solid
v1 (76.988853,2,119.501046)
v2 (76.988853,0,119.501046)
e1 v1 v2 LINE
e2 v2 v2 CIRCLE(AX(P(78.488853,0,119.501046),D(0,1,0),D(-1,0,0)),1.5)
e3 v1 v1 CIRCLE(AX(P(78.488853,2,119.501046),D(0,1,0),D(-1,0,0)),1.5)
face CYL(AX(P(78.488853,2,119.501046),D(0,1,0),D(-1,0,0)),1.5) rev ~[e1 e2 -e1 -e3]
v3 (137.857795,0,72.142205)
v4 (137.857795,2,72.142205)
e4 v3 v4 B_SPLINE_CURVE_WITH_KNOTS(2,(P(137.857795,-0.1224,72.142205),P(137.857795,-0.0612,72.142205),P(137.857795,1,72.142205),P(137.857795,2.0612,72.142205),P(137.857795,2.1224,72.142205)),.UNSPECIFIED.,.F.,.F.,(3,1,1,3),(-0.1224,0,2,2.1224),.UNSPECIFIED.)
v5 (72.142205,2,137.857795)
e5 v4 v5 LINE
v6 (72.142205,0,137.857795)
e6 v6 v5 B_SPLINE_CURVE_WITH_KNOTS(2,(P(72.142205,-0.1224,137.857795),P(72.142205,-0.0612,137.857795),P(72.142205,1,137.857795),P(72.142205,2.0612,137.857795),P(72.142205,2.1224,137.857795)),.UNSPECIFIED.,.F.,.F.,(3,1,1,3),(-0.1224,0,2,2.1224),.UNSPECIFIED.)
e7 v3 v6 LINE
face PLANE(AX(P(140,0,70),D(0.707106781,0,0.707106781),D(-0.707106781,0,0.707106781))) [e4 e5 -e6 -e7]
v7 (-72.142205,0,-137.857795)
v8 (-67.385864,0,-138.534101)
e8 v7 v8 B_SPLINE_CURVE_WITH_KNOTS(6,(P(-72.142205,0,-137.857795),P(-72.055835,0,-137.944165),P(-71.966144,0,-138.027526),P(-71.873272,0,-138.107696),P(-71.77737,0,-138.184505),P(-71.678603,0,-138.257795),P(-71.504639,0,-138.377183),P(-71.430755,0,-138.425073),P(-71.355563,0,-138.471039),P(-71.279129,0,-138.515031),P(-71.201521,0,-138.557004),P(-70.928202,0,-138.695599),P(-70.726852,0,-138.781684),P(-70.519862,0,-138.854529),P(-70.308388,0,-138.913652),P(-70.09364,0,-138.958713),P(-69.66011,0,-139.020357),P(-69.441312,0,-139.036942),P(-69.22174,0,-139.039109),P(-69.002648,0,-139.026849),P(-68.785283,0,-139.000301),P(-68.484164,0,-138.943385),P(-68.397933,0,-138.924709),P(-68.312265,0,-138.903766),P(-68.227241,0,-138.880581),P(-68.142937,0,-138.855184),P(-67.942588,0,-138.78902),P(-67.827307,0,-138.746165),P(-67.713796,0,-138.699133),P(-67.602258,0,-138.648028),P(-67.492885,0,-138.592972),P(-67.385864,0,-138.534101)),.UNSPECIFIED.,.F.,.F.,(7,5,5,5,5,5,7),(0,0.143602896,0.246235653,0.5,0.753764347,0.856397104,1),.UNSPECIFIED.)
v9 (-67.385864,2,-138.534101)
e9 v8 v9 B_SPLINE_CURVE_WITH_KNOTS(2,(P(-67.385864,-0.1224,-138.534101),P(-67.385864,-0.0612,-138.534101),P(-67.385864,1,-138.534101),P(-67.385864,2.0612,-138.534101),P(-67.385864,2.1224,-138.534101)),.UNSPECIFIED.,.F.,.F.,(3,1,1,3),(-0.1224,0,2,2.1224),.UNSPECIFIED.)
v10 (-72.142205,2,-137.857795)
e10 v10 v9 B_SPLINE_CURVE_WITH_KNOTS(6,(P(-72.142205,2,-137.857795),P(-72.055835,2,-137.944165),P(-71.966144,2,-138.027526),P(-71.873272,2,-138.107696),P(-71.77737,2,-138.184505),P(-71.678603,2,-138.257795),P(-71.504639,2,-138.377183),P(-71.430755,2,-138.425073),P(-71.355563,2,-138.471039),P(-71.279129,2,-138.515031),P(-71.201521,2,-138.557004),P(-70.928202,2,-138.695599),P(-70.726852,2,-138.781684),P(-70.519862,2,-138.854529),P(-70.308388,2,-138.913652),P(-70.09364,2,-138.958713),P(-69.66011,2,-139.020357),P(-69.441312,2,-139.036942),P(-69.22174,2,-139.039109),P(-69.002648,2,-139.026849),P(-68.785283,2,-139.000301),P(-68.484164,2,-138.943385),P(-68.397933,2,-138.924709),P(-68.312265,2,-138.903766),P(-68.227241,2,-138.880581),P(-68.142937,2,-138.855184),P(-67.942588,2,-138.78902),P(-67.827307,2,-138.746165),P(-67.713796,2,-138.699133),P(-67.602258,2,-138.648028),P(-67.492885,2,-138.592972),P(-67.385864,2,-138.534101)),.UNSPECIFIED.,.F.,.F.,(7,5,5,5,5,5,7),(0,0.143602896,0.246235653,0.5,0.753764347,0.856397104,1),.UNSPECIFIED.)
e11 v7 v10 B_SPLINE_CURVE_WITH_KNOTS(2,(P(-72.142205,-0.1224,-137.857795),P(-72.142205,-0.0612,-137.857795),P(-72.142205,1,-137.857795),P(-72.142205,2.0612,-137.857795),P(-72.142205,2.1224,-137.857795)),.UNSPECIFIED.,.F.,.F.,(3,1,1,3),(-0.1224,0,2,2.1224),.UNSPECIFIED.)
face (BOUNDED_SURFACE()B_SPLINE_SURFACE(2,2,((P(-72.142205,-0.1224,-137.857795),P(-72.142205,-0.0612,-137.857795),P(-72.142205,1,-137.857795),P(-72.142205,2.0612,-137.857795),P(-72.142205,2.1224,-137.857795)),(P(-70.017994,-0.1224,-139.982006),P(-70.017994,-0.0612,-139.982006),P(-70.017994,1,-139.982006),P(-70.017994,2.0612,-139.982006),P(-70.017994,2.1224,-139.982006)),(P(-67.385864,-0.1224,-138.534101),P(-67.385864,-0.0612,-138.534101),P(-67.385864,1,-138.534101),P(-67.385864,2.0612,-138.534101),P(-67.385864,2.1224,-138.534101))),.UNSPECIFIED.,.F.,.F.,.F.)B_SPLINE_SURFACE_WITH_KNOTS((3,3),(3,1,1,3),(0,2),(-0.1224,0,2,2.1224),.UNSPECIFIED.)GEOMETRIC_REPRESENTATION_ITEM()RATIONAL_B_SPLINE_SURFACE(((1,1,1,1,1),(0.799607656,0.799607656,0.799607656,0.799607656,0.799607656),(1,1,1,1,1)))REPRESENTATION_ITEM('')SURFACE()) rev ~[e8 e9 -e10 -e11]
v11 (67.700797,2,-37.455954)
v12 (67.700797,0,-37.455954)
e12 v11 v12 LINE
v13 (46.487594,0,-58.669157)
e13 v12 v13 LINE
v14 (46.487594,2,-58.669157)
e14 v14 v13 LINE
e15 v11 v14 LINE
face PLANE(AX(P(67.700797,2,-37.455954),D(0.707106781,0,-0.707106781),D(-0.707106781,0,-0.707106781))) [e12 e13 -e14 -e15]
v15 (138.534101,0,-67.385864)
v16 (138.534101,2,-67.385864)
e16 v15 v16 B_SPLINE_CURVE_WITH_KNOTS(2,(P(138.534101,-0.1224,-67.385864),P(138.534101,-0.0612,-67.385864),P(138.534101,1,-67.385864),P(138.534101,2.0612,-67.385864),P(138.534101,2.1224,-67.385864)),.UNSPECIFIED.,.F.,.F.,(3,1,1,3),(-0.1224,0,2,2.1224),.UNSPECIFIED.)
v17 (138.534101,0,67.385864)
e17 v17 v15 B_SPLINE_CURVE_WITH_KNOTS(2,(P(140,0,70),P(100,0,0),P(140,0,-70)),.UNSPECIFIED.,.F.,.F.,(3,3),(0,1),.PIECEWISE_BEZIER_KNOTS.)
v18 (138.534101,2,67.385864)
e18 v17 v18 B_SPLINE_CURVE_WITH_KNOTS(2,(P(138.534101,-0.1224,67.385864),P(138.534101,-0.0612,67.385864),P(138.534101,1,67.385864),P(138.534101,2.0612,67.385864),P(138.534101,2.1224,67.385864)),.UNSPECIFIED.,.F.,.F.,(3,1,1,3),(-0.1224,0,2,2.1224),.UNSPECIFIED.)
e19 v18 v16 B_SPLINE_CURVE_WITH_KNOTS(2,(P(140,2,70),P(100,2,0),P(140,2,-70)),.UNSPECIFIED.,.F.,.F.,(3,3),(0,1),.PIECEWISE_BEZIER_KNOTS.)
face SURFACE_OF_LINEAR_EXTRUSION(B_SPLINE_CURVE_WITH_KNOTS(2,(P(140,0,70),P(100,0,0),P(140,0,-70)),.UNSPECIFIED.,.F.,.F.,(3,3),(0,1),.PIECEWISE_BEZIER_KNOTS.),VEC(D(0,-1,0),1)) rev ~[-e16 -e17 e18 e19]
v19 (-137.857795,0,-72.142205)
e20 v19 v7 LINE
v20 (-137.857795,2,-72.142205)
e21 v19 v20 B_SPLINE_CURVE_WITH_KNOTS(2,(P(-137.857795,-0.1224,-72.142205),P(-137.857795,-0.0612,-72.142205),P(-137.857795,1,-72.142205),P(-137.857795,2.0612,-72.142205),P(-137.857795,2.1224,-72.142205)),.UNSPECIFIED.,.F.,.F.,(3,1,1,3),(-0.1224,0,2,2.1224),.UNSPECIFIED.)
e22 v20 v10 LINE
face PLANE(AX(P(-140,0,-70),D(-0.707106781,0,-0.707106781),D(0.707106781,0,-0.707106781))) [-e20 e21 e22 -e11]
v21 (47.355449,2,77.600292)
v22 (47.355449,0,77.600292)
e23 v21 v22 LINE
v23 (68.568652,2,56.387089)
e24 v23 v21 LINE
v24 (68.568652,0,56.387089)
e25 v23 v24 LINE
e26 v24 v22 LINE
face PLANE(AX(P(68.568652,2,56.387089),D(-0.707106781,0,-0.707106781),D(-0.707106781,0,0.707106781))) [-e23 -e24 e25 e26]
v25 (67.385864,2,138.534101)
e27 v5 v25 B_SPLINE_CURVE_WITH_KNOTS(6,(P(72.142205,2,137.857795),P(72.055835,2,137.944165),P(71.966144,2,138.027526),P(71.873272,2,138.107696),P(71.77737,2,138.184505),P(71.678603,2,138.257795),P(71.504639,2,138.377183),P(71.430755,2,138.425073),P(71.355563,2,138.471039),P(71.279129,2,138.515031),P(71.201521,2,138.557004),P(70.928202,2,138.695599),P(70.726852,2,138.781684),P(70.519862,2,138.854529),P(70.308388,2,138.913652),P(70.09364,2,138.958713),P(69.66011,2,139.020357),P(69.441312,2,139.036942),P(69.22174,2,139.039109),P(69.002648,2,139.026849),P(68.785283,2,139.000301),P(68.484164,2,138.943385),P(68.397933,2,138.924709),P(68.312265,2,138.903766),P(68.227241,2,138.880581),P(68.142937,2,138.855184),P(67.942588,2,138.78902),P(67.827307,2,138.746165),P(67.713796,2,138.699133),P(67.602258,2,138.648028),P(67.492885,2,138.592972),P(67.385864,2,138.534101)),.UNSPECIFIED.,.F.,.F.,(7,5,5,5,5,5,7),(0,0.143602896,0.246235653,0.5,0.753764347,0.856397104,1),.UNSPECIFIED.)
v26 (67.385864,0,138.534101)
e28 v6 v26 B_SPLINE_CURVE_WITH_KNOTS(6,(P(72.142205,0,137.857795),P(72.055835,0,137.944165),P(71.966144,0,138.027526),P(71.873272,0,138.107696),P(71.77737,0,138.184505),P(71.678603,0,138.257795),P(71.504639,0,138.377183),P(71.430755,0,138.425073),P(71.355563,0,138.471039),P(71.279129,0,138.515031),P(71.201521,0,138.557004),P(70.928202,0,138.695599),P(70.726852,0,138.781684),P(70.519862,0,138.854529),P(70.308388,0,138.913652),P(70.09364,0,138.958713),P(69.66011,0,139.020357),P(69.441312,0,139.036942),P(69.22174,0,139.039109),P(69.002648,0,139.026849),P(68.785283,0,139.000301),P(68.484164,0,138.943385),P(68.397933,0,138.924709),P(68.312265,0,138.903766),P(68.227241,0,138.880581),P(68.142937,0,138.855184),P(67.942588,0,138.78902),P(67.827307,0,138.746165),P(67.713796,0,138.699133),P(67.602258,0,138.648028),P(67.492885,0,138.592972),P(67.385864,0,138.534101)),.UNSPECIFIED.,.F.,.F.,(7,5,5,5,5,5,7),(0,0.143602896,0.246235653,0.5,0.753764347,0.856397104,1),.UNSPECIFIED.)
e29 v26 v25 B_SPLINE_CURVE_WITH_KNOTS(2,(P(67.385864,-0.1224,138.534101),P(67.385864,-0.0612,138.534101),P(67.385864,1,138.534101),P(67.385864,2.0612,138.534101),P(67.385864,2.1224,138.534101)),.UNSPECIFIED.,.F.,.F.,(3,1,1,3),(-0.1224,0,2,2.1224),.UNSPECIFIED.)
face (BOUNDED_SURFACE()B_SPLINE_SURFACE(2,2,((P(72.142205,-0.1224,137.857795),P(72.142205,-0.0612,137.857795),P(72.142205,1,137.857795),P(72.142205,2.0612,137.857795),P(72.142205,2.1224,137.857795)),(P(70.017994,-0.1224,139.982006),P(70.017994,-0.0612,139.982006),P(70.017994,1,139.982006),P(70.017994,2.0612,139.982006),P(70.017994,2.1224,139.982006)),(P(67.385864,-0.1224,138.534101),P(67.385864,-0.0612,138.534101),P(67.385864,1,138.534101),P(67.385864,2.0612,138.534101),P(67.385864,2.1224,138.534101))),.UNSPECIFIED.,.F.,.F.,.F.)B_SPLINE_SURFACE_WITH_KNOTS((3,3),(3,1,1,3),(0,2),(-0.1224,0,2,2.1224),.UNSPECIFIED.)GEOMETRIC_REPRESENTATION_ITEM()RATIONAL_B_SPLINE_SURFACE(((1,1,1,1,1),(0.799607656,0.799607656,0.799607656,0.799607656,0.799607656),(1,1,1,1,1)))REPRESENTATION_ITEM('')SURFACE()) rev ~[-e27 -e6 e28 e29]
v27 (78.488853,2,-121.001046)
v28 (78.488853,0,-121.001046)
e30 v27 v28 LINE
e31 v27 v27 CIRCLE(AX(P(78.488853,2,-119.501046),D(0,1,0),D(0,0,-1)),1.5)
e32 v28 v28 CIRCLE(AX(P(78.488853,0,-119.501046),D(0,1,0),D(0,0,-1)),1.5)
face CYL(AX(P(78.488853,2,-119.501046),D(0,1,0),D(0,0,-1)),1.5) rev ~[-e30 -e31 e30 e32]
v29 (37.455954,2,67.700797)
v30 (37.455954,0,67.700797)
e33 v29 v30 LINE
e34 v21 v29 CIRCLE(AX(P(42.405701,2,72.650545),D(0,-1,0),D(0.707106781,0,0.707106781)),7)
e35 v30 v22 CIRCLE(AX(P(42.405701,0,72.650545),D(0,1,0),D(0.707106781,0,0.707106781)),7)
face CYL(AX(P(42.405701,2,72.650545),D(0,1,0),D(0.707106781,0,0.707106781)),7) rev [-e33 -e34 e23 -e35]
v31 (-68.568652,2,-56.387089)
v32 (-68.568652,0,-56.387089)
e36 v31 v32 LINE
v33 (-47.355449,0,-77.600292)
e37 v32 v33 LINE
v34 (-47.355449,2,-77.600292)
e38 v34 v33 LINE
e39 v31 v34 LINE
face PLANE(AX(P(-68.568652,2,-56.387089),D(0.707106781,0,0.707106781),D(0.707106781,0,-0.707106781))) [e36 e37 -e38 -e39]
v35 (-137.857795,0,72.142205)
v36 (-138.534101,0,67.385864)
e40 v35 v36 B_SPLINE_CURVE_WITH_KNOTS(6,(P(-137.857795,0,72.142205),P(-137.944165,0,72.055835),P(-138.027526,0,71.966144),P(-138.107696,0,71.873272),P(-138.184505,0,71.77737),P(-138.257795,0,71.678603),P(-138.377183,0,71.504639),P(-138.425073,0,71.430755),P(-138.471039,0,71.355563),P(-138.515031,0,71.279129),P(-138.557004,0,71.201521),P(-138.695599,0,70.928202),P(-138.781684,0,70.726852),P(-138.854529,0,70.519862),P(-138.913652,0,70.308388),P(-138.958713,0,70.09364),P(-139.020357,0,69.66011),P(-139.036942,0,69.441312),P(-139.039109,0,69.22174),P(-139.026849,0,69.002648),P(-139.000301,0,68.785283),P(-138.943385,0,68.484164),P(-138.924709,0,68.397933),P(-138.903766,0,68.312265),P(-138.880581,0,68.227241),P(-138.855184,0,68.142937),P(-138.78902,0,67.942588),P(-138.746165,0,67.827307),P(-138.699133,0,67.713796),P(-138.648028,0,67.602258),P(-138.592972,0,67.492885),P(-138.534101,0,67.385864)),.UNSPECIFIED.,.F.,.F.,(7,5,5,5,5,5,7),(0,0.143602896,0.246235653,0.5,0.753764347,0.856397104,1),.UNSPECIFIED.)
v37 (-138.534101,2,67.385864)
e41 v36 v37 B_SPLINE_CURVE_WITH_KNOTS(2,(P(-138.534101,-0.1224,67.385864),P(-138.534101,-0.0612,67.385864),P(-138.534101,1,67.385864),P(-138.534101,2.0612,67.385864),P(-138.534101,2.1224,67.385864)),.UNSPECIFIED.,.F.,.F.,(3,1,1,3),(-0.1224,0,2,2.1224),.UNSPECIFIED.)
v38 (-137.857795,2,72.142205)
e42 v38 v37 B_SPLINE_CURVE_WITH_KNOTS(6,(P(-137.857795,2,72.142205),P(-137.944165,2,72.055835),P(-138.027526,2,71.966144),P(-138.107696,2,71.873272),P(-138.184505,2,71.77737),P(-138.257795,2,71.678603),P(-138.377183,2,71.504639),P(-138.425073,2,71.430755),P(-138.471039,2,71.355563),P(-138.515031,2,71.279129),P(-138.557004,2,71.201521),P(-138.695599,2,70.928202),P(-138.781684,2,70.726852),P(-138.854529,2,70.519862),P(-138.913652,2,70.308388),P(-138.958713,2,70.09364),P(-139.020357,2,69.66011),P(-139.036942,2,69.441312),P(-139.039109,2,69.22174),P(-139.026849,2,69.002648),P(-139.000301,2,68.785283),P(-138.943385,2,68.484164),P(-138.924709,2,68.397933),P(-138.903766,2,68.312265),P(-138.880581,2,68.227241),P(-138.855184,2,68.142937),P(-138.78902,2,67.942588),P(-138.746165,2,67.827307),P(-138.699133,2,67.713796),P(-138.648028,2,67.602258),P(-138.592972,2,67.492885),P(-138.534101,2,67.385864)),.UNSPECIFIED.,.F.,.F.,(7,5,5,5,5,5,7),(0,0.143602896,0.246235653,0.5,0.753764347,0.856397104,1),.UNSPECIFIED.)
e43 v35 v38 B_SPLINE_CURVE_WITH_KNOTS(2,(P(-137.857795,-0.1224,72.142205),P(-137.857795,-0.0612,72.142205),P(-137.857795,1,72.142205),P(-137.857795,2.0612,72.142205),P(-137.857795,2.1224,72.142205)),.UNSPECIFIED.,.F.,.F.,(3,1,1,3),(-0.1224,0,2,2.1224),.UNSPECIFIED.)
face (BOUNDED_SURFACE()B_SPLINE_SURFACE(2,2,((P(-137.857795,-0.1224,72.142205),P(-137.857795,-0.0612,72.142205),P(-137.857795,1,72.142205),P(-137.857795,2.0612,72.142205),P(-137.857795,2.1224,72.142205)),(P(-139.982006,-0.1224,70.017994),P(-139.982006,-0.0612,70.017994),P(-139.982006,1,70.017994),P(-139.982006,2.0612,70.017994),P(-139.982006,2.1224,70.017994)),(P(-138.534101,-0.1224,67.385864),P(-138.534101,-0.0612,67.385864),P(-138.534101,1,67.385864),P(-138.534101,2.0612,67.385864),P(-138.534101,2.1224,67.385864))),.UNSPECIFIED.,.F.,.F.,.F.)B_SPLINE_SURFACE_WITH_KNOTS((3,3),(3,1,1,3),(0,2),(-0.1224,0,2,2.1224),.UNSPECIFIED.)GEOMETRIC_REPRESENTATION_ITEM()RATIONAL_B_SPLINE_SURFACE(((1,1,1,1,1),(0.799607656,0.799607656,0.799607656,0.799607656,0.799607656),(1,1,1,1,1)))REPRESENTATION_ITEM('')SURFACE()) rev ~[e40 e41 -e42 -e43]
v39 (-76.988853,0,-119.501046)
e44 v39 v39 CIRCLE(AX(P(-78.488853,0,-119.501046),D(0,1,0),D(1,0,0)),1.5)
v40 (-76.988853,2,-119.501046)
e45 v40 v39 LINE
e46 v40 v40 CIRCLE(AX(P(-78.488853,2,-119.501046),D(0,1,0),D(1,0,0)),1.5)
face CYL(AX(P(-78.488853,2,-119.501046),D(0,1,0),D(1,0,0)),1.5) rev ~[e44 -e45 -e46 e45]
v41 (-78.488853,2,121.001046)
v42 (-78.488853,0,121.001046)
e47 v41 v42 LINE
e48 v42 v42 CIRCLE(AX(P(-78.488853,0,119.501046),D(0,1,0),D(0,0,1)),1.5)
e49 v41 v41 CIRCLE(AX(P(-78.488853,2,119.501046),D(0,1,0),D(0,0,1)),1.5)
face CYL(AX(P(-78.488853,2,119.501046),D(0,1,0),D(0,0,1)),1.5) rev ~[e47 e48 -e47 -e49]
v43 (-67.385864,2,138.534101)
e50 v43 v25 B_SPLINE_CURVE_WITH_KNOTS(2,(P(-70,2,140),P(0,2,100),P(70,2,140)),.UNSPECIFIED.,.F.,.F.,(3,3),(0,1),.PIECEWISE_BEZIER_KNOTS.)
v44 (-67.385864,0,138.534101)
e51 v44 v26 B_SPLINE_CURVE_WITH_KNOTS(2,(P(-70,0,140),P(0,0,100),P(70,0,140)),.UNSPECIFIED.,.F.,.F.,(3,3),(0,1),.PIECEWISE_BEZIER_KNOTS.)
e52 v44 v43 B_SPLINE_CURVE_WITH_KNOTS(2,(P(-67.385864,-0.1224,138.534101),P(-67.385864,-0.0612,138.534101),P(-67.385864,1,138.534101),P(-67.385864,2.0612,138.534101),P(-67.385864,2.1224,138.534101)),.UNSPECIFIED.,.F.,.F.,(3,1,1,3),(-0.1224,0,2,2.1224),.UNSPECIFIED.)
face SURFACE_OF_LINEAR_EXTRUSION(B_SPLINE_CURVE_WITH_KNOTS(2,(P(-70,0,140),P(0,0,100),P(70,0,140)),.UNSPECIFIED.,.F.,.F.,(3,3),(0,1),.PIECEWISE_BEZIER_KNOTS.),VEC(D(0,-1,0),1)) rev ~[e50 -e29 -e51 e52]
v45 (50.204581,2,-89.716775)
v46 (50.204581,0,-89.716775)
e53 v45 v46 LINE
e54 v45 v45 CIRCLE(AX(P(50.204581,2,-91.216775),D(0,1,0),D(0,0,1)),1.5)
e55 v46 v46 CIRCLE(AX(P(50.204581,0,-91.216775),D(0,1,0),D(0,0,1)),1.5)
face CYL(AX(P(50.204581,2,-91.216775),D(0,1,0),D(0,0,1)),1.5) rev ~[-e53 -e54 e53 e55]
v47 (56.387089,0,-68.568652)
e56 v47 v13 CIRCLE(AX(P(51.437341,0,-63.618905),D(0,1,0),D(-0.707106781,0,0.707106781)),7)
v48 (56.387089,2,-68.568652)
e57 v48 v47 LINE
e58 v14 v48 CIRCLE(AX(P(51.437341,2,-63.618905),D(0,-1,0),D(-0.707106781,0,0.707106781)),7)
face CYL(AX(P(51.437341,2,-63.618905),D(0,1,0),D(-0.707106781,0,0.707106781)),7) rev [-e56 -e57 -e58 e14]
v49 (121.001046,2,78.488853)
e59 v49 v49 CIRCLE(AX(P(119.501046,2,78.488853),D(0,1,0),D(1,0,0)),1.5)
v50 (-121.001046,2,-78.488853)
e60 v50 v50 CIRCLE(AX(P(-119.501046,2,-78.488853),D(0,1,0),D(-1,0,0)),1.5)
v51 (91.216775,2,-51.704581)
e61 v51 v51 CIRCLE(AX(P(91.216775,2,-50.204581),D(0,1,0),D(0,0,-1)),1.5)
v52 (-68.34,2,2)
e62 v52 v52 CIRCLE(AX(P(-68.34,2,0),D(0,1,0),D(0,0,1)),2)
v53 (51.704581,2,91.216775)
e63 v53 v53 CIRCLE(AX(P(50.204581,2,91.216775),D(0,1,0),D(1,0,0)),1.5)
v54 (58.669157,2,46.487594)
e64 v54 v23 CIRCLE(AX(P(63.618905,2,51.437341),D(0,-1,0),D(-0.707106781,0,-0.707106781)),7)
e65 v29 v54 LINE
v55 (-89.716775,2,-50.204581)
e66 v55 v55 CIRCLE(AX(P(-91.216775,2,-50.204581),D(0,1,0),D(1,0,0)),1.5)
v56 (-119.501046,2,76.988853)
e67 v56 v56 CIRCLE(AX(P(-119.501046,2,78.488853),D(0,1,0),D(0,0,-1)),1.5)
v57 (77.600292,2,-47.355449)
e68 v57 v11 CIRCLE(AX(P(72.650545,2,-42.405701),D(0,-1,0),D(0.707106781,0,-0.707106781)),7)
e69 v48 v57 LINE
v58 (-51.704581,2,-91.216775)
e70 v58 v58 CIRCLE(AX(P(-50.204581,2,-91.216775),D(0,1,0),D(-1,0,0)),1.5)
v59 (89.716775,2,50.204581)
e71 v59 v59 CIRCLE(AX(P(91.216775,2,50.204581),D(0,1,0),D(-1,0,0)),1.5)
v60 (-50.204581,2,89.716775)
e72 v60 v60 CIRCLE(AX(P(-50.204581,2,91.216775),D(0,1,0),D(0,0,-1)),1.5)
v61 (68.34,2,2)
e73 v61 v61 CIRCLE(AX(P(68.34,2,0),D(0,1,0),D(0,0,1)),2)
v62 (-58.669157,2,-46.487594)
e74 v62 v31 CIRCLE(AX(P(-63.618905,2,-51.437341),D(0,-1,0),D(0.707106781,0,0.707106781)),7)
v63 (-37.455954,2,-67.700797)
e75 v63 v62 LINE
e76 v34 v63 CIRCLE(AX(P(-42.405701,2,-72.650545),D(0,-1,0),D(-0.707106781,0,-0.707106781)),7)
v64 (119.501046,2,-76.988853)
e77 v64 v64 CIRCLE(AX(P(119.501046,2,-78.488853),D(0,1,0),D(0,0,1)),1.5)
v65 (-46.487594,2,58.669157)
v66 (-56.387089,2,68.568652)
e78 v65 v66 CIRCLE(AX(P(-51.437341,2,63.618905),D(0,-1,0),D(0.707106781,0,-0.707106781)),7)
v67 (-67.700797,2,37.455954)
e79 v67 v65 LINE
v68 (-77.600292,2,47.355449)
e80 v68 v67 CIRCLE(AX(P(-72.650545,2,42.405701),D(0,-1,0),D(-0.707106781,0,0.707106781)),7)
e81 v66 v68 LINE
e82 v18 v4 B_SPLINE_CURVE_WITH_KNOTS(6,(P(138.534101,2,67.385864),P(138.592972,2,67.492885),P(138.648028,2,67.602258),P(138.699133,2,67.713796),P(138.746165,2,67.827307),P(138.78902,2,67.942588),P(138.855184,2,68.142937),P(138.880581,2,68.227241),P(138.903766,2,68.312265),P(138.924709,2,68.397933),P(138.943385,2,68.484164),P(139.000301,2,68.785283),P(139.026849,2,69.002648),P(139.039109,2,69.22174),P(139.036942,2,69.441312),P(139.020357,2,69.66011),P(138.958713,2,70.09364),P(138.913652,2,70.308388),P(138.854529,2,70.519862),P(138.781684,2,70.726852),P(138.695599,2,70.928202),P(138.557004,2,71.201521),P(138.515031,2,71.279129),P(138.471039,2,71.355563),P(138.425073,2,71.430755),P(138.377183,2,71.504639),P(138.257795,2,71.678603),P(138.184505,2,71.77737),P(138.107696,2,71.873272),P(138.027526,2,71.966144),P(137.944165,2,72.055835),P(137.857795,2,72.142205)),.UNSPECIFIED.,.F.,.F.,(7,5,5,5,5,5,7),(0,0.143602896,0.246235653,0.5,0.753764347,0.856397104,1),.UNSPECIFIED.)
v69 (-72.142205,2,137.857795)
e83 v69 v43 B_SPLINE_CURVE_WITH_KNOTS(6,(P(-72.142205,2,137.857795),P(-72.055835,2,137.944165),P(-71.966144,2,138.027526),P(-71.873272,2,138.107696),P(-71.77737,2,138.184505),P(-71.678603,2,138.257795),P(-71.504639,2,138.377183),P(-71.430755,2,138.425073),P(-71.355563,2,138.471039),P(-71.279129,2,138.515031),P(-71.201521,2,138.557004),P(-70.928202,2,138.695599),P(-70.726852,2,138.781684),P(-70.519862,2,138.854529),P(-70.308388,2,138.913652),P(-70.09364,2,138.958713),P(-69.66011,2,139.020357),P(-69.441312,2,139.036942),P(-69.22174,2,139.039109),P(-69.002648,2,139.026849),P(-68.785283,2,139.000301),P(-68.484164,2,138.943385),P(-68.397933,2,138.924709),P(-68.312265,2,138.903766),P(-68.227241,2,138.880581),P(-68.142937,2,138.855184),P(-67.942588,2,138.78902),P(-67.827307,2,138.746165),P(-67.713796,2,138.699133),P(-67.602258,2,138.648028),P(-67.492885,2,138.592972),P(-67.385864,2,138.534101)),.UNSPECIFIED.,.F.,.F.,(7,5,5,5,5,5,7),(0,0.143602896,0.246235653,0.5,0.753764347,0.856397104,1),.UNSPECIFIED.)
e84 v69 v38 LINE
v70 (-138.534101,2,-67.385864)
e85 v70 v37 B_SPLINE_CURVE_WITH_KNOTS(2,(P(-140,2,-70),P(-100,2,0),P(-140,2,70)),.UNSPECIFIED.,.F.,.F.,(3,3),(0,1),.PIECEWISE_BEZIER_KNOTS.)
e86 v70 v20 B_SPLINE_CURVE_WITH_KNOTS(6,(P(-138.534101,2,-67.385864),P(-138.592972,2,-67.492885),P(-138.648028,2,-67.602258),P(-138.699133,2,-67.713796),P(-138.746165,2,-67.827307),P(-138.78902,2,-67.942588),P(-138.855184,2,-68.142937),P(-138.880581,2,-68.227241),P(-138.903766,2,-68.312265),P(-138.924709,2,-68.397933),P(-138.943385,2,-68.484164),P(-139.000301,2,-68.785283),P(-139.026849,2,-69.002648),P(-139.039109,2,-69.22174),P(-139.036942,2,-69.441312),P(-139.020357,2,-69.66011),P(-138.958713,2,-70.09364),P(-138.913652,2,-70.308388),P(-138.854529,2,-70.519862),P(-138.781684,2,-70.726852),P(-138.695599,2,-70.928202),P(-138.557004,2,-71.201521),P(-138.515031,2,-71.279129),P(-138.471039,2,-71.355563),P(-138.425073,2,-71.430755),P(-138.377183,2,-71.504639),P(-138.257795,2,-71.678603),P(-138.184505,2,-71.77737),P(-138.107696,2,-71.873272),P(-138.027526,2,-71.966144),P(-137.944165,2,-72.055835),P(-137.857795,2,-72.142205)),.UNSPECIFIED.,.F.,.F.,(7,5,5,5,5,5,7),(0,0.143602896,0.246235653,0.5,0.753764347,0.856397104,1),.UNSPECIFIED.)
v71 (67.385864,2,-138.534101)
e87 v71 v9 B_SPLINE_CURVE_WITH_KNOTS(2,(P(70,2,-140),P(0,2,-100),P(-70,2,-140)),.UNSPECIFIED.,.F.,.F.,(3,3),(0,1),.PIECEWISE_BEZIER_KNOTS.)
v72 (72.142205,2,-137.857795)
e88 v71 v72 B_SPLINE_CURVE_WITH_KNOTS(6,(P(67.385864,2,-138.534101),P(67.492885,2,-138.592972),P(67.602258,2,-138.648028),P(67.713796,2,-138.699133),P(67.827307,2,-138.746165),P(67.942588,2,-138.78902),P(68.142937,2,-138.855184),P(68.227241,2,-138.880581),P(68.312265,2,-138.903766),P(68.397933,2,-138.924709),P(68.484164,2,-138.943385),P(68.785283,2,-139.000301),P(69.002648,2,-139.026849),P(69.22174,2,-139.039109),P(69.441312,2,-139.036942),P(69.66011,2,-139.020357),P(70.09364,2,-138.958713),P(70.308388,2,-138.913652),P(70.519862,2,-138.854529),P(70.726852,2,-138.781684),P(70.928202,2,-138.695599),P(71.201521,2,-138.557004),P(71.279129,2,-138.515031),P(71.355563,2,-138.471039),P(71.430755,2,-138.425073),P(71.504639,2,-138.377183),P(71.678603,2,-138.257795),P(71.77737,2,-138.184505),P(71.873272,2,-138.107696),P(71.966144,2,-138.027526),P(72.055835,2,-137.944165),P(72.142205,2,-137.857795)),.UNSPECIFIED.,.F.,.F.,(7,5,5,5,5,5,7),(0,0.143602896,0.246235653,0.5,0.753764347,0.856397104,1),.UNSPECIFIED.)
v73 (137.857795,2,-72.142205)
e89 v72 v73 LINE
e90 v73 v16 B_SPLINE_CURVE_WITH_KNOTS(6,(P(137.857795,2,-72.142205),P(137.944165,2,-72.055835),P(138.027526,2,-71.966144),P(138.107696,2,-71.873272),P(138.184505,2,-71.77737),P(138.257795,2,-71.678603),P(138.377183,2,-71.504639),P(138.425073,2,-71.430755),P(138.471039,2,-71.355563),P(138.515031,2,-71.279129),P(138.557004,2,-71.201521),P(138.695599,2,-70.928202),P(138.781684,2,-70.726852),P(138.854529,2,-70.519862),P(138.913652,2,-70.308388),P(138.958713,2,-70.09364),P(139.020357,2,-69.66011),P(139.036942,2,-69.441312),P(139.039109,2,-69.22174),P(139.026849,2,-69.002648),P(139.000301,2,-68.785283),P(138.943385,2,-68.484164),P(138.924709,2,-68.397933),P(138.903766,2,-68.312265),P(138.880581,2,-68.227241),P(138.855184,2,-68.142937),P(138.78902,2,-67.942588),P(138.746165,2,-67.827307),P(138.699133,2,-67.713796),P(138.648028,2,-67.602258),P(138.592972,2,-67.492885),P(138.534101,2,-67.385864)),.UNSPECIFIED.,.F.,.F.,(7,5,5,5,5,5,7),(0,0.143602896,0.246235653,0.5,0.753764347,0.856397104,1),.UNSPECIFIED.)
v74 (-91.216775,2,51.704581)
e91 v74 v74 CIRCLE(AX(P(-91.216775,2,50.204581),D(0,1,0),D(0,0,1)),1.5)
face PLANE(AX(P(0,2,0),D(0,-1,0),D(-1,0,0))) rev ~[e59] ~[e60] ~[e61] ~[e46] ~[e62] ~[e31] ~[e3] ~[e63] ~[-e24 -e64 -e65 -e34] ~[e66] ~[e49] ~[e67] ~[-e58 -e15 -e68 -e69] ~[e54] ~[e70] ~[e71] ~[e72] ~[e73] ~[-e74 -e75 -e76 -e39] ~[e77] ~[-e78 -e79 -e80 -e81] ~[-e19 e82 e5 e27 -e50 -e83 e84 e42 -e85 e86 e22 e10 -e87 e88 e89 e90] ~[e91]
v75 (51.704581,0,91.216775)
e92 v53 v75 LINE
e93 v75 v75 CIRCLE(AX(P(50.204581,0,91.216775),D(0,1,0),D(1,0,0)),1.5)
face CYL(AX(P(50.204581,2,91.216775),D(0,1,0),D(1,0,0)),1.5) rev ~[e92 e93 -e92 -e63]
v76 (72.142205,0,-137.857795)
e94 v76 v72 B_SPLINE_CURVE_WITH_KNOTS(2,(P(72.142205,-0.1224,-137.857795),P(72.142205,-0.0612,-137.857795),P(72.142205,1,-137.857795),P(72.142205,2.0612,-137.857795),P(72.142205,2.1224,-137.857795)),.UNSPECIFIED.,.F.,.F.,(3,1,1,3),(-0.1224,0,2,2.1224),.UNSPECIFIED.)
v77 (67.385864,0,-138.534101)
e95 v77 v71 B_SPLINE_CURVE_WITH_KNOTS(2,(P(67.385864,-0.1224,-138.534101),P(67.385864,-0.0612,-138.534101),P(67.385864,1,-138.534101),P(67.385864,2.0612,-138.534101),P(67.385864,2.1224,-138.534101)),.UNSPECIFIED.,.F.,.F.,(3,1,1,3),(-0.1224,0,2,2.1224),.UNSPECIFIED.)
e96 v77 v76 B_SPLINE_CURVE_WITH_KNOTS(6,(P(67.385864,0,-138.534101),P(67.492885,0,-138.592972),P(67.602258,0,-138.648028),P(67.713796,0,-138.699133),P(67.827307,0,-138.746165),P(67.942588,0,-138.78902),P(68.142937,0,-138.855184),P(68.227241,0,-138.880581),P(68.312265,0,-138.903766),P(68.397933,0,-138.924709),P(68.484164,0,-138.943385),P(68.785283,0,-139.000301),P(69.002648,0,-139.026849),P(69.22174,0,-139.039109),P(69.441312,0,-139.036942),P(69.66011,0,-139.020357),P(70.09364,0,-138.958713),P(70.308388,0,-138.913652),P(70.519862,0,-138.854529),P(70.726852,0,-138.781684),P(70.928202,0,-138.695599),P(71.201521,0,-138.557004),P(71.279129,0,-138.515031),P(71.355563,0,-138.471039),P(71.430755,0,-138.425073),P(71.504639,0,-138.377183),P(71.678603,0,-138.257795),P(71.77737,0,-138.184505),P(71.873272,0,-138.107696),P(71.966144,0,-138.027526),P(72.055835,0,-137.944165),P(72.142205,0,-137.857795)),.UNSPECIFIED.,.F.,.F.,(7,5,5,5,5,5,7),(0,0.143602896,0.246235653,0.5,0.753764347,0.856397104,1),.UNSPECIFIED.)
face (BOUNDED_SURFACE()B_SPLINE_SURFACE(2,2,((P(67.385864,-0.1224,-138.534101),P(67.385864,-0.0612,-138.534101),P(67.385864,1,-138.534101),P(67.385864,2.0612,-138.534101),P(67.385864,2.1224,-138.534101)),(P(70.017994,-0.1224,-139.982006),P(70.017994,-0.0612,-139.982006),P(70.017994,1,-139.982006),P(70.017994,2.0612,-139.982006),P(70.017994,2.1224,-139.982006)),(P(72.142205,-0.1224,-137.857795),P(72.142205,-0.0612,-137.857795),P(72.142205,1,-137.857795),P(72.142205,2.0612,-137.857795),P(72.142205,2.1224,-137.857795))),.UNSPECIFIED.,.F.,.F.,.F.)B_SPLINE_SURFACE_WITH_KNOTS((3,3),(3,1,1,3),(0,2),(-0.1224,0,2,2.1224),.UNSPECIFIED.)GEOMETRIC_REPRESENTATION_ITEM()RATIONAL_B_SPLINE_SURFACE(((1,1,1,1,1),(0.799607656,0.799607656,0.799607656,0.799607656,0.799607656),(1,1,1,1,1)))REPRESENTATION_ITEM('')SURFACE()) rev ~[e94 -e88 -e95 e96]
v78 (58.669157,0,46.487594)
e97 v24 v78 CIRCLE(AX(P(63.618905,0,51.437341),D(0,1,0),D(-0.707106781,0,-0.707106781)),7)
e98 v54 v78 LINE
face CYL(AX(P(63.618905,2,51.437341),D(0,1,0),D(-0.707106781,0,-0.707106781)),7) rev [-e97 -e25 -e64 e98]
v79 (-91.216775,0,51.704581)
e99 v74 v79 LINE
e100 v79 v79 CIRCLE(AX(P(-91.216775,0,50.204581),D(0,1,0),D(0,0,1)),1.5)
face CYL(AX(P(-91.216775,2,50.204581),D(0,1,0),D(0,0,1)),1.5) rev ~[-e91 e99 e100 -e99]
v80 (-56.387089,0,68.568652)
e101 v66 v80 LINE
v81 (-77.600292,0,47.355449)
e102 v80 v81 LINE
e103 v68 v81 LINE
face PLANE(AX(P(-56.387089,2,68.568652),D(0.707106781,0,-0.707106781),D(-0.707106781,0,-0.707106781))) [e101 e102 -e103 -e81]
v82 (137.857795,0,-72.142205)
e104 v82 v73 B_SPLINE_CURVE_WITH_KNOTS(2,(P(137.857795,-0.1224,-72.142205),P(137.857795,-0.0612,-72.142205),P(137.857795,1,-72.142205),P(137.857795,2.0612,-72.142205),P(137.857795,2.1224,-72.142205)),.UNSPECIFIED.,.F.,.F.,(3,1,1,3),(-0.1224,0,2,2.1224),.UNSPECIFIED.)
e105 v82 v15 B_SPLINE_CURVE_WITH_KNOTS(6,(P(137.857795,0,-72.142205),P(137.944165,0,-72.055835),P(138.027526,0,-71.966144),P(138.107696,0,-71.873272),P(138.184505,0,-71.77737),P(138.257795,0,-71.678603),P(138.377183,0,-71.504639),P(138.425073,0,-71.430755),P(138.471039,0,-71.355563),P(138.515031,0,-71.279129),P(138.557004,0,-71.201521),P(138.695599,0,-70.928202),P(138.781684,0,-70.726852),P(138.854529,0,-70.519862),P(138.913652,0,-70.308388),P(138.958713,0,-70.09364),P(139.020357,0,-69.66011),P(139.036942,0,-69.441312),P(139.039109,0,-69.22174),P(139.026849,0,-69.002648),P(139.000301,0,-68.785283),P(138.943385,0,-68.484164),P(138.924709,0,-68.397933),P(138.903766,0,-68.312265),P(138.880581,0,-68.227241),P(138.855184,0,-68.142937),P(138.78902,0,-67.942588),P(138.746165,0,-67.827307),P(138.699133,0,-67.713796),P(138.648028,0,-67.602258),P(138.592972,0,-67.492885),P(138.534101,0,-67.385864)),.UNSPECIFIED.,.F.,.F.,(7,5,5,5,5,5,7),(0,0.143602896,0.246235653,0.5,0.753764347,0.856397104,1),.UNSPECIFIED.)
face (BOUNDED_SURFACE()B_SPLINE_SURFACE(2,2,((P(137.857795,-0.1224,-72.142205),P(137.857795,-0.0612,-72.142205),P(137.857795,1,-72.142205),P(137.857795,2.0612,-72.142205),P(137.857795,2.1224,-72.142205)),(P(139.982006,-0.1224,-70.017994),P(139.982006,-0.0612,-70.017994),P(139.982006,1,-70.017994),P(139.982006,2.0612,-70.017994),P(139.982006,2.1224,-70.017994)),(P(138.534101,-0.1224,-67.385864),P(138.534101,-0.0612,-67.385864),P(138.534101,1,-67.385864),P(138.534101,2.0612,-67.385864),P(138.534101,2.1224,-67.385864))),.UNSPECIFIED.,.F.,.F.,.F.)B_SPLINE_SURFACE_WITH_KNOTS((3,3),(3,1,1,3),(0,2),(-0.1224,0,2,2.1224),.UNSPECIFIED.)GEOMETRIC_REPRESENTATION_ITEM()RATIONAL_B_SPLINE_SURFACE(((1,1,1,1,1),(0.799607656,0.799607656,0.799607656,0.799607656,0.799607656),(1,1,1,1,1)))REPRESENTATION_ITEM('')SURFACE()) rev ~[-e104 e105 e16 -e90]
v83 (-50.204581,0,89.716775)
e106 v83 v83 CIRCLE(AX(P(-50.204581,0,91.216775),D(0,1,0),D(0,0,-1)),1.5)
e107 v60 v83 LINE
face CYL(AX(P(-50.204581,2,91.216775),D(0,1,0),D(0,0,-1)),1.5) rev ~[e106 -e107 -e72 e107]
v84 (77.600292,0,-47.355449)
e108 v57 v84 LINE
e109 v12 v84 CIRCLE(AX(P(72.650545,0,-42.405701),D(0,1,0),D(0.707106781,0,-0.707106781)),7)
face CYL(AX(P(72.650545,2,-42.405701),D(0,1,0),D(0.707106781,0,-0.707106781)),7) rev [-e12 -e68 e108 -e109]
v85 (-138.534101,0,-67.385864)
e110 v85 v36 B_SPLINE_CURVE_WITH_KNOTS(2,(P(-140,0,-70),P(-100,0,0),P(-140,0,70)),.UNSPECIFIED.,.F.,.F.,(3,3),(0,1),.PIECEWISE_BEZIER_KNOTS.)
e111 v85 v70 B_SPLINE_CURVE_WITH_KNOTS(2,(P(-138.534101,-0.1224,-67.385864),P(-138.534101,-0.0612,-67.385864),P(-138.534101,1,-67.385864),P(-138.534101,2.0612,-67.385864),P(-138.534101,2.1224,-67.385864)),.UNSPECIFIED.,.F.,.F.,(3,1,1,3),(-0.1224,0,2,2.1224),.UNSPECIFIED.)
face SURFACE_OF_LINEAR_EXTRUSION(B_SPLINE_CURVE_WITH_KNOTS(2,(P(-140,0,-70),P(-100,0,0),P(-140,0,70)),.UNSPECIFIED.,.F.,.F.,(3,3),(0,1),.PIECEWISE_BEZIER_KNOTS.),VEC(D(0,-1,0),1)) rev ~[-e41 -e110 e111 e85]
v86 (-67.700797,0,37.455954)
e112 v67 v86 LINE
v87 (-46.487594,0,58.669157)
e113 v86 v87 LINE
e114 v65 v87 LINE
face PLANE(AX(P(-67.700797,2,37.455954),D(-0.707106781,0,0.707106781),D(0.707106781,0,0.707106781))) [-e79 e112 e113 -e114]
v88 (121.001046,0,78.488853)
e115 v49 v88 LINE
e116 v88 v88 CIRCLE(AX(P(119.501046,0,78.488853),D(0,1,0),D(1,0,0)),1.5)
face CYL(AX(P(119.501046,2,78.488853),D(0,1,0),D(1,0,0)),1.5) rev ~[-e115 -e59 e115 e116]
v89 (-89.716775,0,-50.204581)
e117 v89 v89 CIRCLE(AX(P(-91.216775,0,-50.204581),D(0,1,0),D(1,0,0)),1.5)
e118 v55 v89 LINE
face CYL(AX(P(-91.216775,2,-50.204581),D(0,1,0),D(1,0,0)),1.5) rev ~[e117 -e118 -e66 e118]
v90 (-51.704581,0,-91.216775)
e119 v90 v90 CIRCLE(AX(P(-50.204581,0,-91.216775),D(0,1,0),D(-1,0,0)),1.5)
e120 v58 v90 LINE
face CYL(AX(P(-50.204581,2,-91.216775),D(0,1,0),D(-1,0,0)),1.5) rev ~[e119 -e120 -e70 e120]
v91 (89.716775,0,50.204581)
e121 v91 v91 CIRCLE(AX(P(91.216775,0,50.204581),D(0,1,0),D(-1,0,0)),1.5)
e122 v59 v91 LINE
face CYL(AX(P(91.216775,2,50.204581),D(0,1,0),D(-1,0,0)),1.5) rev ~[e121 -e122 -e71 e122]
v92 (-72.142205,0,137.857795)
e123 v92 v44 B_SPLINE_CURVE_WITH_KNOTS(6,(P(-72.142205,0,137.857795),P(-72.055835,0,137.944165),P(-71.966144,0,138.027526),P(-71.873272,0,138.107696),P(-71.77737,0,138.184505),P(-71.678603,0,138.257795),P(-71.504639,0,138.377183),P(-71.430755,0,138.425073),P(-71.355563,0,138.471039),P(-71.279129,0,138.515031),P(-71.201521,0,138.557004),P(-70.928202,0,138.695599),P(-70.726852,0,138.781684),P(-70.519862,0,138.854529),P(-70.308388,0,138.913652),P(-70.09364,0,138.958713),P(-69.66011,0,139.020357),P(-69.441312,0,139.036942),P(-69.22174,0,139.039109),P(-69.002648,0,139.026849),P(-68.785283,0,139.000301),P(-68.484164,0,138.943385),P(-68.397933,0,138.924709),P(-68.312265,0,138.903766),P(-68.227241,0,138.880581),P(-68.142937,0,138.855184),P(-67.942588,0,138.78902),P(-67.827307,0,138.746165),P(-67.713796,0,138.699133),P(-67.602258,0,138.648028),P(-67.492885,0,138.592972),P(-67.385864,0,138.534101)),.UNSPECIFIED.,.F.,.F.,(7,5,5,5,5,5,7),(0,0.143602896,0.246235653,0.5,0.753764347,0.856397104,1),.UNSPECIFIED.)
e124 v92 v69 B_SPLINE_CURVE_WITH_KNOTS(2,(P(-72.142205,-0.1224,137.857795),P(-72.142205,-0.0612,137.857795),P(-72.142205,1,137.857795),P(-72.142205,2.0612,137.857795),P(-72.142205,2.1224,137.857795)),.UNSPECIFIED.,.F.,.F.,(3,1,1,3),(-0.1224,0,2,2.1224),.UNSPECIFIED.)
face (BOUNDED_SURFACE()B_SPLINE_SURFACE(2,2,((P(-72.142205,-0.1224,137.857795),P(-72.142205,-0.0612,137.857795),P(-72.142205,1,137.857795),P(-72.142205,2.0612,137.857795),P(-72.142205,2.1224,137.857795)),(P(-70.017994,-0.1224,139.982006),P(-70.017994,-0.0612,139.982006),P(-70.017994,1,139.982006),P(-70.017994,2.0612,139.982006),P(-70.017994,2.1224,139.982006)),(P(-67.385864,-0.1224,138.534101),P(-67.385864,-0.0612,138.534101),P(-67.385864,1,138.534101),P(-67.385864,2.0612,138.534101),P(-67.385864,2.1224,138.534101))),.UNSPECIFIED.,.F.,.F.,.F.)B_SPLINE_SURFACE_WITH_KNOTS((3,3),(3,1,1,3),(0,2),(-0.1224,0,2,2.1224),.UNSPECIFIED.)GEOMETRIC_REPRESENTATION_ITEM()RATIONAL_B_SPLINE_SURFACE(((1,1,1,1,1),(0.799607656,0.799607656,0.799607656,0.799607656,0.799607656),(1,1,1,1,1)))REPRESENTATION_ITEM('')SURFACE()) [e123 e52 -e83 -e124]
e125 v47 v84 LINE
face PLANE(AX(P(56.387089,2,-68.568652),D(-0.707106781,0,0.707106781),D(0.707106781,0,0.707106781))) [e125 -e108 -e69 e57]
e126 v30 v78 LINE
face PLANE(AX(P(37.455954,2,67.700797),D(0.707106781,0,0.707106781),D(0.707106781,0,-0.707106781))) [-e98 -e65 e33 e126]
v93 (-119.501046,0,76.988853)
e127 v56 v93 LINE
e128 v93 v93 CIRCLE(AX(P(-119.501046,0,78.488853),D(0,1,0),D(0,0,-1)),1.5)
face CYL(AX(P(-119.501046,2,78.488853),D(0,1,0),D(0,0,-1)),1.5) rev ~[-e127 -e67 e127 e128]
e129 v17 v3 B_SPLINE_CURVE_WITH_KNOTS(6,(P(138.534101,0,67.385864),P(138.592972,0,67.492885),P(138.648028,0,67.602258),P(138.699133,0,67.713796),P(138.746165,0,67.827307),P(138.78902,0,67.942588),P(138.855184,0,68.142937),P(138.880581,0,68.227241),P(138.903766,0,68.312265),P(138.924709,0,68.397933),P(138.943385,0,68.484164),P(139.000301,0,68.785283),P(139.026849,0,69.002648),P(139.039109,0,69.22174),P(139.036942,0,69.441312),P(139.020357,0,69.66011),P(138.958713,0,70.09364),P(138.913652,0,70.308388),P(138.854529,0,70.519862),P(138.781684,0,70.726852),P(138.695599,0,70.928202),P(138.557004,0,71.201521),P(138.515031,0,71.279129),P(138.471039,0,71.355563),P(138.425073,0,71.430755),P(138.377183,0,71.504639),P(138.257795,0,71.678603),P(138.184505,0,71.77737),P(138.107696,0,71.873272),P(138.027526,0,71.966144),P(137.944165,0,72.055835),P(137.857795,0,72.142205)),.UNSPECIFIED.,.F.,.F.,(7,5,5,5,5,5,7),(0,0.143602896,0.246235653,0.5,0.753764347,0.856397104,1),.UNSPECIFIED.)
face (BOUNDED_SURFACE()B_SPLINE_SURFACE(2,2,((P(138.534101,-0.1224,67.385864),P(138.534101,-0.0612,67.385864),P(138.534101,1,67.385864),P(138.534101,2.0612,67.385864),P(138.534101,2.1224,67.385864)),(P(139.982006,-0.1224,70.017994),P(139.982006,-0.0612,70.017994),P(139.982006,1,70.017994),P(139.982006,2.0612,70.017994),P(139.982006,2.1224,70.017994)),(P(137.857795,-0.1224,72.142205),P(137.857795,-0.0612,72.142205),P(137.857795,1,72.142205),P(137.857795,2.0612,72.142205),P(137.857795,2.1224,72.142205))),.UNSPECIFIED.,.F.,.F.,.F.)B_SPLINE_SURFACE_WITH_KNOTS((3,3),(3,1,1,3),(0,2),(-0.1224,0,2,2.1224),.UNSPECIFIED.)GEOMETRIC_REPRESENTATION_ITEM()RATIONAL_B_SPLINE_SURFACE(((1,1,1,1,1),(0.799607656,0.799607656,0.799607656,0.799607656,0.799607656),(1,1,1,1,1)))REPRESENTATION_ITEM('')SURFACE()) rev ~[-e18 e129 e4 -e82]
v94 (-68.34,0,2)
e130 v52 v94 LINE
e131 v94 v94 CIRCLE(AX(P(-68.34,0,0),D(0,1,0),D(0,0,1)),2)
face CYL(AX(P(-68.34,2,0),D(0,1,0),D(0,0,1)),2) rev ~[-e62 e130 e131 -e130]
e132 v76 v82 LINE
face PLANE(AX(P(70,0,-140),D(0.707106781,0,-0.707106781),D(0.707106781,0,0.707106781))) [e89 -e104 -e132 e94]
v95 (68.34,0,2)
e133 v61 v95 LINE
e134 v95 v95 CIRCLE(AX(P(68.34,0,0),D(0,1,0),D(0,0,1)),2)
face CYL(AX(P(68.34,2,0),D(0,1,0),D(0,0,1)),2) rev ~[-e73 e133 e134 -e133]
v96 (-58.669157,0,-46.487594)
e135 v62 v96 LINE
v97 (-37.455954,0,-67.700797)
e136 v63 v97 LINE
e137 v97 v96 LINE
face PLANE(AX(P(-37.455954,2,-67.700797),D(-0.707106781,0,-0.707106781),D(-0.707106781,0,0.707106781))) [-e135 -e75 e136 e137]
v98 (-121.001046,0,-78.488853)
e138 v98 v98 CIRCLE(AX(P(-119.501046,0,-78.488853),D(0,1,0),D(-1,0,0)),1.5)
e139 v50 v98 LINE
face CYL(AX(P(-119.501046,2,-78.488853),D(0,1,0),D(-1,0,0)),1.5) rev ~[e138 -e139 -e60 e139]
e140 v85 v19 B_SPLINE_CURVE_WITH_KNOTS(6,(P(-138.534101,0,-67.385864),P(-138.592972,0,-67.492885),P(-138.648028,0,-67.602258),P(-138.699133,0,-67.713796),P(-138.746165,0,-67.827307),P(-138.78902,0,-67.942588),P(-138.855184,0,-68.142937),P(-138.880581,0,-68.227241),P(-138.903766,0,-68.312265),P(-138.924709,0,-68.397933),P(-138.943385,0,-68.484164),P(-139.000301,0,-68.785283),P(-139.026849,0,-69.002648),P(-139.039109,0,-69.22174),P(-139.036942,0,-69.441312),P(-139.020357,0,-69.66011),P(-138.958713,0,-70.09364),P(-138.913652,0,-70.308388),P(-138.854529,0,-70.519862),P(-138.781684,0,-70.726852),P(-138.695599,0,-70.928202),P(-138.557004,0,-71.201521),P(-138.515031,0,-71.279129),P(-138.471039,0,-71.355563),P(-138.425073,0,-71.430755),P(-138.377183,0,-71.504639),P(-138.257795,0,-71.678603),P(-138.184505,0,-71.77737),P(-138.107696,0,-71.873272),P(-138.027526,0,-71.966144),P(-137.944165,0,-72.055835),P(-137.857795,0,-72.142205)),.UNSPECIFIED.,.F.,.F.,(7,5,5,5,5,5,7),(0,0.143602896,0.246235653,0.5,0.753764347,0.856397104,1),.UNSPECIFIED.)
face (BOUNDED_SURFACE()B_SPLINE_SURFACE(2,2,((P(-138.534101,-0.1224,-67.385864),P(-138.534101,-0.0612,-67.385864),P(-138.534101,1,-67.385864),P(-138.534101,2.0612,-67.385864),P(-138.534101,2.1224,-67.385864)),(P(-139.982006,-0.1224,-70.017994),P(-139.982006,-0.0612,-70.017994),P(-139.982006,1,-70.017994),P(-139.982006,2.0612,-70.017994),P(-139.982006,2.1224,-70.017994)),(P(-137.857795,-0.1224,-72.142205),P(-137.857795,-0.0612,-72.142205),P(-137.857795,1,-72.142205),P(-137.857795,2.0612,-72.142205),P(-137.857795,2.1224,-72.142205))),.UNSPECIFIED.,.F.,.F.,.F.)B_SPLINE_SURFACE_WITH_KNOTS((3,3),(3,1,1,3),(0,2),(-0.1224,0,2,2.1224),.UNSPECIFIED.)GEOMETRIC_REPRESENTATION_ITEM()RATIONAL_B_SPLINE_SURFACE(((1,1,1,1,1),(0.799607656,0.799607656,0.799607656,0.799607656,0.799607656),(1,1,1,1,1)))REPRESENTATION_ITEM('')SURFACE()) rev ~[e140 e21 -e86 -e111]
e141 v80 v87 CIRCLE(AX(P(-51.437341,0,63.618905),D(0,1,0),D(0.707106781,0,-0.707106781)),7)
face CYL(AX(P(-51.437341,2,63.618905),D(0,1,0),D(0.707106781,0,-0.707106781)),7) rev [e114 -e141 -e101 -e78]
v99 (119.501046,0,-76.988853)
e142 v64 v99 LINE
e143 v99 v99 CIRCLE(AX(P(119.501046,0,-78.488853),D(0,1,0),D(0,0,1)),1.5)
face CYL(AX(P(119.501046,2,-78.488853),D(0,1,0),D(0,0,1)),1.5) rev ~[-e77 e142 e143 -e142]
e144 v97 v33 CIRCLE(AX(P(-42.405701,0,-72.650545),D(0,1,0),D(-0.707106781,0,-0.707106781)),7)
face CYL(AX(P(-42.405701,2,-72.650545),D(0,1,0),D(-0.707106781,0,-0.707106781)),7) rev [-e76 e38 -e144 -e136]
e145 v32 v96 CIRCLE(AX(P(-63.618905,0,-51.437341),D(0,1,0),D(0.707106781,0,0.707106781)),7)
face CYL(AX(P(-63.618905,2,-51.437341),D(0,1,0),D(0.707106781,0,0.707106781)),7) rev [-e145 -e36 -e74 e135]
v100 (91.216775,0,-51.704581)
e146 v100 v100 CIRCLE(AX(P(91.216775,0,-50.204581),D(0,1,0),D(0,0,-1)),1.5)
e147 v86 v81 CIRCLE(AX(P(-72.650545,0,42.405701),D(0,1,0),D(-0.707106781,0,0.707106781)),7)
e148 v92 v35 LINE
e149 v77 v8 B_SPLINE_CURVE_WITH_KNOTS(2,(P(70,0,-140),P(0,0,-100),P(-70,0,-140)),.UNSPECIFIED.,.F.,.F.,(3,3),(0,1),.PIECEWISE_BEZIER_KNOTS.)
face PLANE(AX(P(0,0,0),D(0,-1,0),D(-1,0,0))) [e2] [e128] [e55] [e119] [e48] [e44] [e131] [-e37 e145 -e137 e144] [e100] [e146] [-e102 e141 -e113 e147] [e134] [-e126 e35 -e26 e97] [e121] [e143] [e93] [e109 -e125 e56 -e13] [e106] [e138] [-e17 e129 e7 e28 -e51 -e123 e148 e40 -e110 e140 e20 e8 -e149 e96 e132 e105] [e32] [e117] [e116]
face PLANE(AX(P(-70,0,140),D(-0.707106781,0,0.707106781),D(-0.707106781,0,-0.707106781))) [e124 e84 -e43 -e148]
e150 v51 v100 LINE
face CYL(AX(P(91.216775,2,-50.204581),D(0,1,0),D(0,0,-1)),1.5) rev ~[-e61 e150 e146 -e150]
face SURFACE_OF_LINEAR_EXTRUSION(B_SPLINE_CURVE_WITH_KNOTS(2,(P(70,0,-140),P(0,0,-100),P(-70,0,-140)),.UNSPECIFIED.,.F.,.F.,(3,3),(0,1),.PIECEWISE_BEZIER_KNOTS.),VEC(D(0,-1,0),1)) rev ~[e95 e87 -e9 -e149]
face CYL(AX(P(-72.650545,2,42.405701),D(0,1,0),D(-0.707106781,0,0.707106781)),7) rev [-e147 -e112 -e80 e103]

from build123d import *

# Parameters (mm, degrees)
DODANIE_WYCI_GNI_CIE1_DEPTH = 2
ZAOKR_GLENIE1_R             = 4
SZKIC2_R                    = 1.5
WYTNIJ_WYCI_GNI_CIE1_DEPTH  = 197.627390061
SZYK_KO_OWY1_COUNT          = 4
WYTNIJ_WYCI_GNI_CIE2_REACH  = 198.627
SZYK_KO_OWY2_COUNT          = 4
WYTNIJ_WYCI_GNI_CIE3_REACH  = 198.627
SZKIC4_R                    = 2


with BuildPart() as part:
    # Szkic1 → Dodanie-wyciągnięcie1 (new body)
    with BuildSketch(Plane(origin=(0, 0, 0), x_dir=(1, 0, 0), z_dir=(0, 1, 0))):
        with BuildLine():
            Line((-70, -140), (-140, -70))
            add(Edge.make_bspline(
                [(-140, 70), (-100, 0), (-140, -70)],
                knots=[0, 0, 0, 1, 1, 1], degree=2))
            Line((-140, 70), (-70, 140))
            add(Edge.make_bspline(
                [(70, 140), (0, 100), (-70, 140)],
                knots=[0, 0, 0, 1, 1, 1], degree=2))
            Line((70, 140), (140, 70))
            add(Edge.make_bspline(
                [(140, -70), (100, 0), (140, 70)],
                knots=[0, 0, 0, 1, 1, 1], degree=2))
            Line((140, -70), (70, -140))
            add(Edge.make_bspline(
                [(-70, -140), (0, -100), (70, -140)],
                knots=[0, 0, 0, 1, 1, 1], degree=2))
        make_face()
    extrude(amount=DODANIE_WYCI_GNI_CIE1_DEPTH)

    # Zaokrąglenie1
    zaokr_glenie1_edges = [part.edges().sort_by_distance(p)[0] for p in [
        (-140, 1, -70),
        (-70, 1, -140),
        (70, 1, -140),
        (140, 1, -70),
        (140, 1, 70),
        (70, 1, 140),
        (-140, 1, 70),
        (-70, 1, 140),
    ]]
    fillet(zaokr_glenie1_edges, radius=ZAOKR_GLENIE1_R)

    # Szkic2 → Wytnij-wyciągnięcie1 (cut, through all)
    with BuildSketch(Plane(origin=(0, 2, 0), x_dir=(1, 0, 0), z_dir=(0, 1, 0))):
        with Locations((-78.488852712, -119.501046021)):
            Circle(SZKIC2_R)
        with Locations((-119.501046021, -78.488852712)):
            Circle(SZKIC2_R)
        with Locations((-50.204581464, -91.216774773)):
            Circle(SZKIC2_R)
        with Locations((-91.216774773, -50.204581464)):
            Circle(SZKIC2_R)
    wytnij_wyci_gni_cie1 = extrude(amount=-WYTNIJ_WYCI_GNI_CIE1_DEPTH, mode=Mode.SUBTRACT)

    # Szyk kołowy1: Wytnij-wyciągnięcie1 ×4 about axis
    szyk_ko_owy1_axis = Axis((0, -82.27937755, 0), (0, 1, 0))
    for i in range(1, SZYK_KO_OWY1_COUNT):
        add(wytnij_wyci_gni_cie1.rotate(szyk_ko_owy1_axis, i * 360 / SZYK_KO_OWY1_COUNT), mode=Mode.SUBTRACT)

    # Szkic3 → Wytnij-wyciągnięcie2 (cut, up to next)
    with BuildSketch(Plane(origin=(0, 2, 0), x_dir=(1, 0, 0), z_dir=(0, 1, 0)), mode=Mode.PRIVATE) as wytnij_wyci_gni_cie2_sk1:
        with BuildLine():
            Line((-47.355448856, 77.60029226), (-68.568652292, 56.387088824))
            ThreePointArc((-68.568652292, 56.387088824), (-68.568652292, 46.487593888), (-58.669157355, 46.487593888))
            Line((-58.669157355, 46.487593888), (-37.45595392, 67.700797323))
            ThreePointArc((-37.45595392, 67.700797323), (-37.45595392, 77.60029226), (-47.355448856, 77.60029226))
        make_face()
    wytnij_wyci_gni_cie2_tool1 = extrude(wytnij_wyci_gni_cie2_sk1.sketch, amount=-WYTNIJ_WYCI_GNI_CIE2_REACH, mode=Mode.PRIVATE) & part.part
    wytnij_wyci_gni_cie2 = wytnij_wyci_gni_cie2_tool1.solids().sort_by_distance((-53.012303, 2, -62.043943))[0]
    add(wytnij_wyci_gni_cie2, mode=Mode.SUBTRACT)

    # Szyk kołowy2: Wytnij-wyciągnięcie2 ×4 about axis
    szyk_ko_owy2_axis = Axis((0, -82.27937755, 0), (0, 1, 0))
    for i in range(1, SZYK_KO_OWY2_COUNT):
        add(wytnij_wyci_gni_cie2.rotate(szyk_ko_owy2_axis, i * 360 / SZYK_KO_OWY2_COUNT), mode=Mode.SUBTRACT)

    # Szkic4 → Wytnij-wyciągnięcie3 (cut, up to next)
    with BuildSketch(Plane(origin=(0, 2, 0), x_dir=(1, 0, 0), z_dir=(0, 1, 0)), mode=Mode.PRIVATE) as wytnij_wyci_gni_cie3_sk1:
        with Locations((-68.34, 0)):
            Circle(SZKIC4_R)
    wytnij_wyci_gni_cie3_tool1 = extrude(wytnij_wyci_gni_cie3_sk1.sketch, amount=-WYTNIJ_WYCI_GNI_CIE3_REACH, mode=Mode.PRIVATE) & part.part
    # Szkic4 → Wytnij-wyciągnięcie3 (cut, up to next)
    with BuildSketch(Plane(origin=(0, 2, 0), x_dir=(1, 0, 0), z_dir=(0, 1, 0)), mode=Mode.PRIVATE) as wytnij_wyci_gni_cie3_sk2:
        with Locations((68.34, 0)):
            Circle(SZKIC4_R)
    wytnij_wyci_gni_cie3_tool2 = extrude(wytnij_wyci_gni_cie3_sk2.sketch, amount=-WYTNIJ_WYCI_GNI_CIE3_REACH, mode=Mode.PRIVATE) & part.part
    add(wytnij_wyci_gni_cie3_tool1.solids().sort_by_distance((-68.34, 2, 0))[0], mode=Mode.SUBTRACT)
    add(wytnij_wyci_gni_cie3_tool2.solids().sort_by_distance((68.34, 2, 0))[0], mode=Mode.SUBTRACT)


solid = part.part
